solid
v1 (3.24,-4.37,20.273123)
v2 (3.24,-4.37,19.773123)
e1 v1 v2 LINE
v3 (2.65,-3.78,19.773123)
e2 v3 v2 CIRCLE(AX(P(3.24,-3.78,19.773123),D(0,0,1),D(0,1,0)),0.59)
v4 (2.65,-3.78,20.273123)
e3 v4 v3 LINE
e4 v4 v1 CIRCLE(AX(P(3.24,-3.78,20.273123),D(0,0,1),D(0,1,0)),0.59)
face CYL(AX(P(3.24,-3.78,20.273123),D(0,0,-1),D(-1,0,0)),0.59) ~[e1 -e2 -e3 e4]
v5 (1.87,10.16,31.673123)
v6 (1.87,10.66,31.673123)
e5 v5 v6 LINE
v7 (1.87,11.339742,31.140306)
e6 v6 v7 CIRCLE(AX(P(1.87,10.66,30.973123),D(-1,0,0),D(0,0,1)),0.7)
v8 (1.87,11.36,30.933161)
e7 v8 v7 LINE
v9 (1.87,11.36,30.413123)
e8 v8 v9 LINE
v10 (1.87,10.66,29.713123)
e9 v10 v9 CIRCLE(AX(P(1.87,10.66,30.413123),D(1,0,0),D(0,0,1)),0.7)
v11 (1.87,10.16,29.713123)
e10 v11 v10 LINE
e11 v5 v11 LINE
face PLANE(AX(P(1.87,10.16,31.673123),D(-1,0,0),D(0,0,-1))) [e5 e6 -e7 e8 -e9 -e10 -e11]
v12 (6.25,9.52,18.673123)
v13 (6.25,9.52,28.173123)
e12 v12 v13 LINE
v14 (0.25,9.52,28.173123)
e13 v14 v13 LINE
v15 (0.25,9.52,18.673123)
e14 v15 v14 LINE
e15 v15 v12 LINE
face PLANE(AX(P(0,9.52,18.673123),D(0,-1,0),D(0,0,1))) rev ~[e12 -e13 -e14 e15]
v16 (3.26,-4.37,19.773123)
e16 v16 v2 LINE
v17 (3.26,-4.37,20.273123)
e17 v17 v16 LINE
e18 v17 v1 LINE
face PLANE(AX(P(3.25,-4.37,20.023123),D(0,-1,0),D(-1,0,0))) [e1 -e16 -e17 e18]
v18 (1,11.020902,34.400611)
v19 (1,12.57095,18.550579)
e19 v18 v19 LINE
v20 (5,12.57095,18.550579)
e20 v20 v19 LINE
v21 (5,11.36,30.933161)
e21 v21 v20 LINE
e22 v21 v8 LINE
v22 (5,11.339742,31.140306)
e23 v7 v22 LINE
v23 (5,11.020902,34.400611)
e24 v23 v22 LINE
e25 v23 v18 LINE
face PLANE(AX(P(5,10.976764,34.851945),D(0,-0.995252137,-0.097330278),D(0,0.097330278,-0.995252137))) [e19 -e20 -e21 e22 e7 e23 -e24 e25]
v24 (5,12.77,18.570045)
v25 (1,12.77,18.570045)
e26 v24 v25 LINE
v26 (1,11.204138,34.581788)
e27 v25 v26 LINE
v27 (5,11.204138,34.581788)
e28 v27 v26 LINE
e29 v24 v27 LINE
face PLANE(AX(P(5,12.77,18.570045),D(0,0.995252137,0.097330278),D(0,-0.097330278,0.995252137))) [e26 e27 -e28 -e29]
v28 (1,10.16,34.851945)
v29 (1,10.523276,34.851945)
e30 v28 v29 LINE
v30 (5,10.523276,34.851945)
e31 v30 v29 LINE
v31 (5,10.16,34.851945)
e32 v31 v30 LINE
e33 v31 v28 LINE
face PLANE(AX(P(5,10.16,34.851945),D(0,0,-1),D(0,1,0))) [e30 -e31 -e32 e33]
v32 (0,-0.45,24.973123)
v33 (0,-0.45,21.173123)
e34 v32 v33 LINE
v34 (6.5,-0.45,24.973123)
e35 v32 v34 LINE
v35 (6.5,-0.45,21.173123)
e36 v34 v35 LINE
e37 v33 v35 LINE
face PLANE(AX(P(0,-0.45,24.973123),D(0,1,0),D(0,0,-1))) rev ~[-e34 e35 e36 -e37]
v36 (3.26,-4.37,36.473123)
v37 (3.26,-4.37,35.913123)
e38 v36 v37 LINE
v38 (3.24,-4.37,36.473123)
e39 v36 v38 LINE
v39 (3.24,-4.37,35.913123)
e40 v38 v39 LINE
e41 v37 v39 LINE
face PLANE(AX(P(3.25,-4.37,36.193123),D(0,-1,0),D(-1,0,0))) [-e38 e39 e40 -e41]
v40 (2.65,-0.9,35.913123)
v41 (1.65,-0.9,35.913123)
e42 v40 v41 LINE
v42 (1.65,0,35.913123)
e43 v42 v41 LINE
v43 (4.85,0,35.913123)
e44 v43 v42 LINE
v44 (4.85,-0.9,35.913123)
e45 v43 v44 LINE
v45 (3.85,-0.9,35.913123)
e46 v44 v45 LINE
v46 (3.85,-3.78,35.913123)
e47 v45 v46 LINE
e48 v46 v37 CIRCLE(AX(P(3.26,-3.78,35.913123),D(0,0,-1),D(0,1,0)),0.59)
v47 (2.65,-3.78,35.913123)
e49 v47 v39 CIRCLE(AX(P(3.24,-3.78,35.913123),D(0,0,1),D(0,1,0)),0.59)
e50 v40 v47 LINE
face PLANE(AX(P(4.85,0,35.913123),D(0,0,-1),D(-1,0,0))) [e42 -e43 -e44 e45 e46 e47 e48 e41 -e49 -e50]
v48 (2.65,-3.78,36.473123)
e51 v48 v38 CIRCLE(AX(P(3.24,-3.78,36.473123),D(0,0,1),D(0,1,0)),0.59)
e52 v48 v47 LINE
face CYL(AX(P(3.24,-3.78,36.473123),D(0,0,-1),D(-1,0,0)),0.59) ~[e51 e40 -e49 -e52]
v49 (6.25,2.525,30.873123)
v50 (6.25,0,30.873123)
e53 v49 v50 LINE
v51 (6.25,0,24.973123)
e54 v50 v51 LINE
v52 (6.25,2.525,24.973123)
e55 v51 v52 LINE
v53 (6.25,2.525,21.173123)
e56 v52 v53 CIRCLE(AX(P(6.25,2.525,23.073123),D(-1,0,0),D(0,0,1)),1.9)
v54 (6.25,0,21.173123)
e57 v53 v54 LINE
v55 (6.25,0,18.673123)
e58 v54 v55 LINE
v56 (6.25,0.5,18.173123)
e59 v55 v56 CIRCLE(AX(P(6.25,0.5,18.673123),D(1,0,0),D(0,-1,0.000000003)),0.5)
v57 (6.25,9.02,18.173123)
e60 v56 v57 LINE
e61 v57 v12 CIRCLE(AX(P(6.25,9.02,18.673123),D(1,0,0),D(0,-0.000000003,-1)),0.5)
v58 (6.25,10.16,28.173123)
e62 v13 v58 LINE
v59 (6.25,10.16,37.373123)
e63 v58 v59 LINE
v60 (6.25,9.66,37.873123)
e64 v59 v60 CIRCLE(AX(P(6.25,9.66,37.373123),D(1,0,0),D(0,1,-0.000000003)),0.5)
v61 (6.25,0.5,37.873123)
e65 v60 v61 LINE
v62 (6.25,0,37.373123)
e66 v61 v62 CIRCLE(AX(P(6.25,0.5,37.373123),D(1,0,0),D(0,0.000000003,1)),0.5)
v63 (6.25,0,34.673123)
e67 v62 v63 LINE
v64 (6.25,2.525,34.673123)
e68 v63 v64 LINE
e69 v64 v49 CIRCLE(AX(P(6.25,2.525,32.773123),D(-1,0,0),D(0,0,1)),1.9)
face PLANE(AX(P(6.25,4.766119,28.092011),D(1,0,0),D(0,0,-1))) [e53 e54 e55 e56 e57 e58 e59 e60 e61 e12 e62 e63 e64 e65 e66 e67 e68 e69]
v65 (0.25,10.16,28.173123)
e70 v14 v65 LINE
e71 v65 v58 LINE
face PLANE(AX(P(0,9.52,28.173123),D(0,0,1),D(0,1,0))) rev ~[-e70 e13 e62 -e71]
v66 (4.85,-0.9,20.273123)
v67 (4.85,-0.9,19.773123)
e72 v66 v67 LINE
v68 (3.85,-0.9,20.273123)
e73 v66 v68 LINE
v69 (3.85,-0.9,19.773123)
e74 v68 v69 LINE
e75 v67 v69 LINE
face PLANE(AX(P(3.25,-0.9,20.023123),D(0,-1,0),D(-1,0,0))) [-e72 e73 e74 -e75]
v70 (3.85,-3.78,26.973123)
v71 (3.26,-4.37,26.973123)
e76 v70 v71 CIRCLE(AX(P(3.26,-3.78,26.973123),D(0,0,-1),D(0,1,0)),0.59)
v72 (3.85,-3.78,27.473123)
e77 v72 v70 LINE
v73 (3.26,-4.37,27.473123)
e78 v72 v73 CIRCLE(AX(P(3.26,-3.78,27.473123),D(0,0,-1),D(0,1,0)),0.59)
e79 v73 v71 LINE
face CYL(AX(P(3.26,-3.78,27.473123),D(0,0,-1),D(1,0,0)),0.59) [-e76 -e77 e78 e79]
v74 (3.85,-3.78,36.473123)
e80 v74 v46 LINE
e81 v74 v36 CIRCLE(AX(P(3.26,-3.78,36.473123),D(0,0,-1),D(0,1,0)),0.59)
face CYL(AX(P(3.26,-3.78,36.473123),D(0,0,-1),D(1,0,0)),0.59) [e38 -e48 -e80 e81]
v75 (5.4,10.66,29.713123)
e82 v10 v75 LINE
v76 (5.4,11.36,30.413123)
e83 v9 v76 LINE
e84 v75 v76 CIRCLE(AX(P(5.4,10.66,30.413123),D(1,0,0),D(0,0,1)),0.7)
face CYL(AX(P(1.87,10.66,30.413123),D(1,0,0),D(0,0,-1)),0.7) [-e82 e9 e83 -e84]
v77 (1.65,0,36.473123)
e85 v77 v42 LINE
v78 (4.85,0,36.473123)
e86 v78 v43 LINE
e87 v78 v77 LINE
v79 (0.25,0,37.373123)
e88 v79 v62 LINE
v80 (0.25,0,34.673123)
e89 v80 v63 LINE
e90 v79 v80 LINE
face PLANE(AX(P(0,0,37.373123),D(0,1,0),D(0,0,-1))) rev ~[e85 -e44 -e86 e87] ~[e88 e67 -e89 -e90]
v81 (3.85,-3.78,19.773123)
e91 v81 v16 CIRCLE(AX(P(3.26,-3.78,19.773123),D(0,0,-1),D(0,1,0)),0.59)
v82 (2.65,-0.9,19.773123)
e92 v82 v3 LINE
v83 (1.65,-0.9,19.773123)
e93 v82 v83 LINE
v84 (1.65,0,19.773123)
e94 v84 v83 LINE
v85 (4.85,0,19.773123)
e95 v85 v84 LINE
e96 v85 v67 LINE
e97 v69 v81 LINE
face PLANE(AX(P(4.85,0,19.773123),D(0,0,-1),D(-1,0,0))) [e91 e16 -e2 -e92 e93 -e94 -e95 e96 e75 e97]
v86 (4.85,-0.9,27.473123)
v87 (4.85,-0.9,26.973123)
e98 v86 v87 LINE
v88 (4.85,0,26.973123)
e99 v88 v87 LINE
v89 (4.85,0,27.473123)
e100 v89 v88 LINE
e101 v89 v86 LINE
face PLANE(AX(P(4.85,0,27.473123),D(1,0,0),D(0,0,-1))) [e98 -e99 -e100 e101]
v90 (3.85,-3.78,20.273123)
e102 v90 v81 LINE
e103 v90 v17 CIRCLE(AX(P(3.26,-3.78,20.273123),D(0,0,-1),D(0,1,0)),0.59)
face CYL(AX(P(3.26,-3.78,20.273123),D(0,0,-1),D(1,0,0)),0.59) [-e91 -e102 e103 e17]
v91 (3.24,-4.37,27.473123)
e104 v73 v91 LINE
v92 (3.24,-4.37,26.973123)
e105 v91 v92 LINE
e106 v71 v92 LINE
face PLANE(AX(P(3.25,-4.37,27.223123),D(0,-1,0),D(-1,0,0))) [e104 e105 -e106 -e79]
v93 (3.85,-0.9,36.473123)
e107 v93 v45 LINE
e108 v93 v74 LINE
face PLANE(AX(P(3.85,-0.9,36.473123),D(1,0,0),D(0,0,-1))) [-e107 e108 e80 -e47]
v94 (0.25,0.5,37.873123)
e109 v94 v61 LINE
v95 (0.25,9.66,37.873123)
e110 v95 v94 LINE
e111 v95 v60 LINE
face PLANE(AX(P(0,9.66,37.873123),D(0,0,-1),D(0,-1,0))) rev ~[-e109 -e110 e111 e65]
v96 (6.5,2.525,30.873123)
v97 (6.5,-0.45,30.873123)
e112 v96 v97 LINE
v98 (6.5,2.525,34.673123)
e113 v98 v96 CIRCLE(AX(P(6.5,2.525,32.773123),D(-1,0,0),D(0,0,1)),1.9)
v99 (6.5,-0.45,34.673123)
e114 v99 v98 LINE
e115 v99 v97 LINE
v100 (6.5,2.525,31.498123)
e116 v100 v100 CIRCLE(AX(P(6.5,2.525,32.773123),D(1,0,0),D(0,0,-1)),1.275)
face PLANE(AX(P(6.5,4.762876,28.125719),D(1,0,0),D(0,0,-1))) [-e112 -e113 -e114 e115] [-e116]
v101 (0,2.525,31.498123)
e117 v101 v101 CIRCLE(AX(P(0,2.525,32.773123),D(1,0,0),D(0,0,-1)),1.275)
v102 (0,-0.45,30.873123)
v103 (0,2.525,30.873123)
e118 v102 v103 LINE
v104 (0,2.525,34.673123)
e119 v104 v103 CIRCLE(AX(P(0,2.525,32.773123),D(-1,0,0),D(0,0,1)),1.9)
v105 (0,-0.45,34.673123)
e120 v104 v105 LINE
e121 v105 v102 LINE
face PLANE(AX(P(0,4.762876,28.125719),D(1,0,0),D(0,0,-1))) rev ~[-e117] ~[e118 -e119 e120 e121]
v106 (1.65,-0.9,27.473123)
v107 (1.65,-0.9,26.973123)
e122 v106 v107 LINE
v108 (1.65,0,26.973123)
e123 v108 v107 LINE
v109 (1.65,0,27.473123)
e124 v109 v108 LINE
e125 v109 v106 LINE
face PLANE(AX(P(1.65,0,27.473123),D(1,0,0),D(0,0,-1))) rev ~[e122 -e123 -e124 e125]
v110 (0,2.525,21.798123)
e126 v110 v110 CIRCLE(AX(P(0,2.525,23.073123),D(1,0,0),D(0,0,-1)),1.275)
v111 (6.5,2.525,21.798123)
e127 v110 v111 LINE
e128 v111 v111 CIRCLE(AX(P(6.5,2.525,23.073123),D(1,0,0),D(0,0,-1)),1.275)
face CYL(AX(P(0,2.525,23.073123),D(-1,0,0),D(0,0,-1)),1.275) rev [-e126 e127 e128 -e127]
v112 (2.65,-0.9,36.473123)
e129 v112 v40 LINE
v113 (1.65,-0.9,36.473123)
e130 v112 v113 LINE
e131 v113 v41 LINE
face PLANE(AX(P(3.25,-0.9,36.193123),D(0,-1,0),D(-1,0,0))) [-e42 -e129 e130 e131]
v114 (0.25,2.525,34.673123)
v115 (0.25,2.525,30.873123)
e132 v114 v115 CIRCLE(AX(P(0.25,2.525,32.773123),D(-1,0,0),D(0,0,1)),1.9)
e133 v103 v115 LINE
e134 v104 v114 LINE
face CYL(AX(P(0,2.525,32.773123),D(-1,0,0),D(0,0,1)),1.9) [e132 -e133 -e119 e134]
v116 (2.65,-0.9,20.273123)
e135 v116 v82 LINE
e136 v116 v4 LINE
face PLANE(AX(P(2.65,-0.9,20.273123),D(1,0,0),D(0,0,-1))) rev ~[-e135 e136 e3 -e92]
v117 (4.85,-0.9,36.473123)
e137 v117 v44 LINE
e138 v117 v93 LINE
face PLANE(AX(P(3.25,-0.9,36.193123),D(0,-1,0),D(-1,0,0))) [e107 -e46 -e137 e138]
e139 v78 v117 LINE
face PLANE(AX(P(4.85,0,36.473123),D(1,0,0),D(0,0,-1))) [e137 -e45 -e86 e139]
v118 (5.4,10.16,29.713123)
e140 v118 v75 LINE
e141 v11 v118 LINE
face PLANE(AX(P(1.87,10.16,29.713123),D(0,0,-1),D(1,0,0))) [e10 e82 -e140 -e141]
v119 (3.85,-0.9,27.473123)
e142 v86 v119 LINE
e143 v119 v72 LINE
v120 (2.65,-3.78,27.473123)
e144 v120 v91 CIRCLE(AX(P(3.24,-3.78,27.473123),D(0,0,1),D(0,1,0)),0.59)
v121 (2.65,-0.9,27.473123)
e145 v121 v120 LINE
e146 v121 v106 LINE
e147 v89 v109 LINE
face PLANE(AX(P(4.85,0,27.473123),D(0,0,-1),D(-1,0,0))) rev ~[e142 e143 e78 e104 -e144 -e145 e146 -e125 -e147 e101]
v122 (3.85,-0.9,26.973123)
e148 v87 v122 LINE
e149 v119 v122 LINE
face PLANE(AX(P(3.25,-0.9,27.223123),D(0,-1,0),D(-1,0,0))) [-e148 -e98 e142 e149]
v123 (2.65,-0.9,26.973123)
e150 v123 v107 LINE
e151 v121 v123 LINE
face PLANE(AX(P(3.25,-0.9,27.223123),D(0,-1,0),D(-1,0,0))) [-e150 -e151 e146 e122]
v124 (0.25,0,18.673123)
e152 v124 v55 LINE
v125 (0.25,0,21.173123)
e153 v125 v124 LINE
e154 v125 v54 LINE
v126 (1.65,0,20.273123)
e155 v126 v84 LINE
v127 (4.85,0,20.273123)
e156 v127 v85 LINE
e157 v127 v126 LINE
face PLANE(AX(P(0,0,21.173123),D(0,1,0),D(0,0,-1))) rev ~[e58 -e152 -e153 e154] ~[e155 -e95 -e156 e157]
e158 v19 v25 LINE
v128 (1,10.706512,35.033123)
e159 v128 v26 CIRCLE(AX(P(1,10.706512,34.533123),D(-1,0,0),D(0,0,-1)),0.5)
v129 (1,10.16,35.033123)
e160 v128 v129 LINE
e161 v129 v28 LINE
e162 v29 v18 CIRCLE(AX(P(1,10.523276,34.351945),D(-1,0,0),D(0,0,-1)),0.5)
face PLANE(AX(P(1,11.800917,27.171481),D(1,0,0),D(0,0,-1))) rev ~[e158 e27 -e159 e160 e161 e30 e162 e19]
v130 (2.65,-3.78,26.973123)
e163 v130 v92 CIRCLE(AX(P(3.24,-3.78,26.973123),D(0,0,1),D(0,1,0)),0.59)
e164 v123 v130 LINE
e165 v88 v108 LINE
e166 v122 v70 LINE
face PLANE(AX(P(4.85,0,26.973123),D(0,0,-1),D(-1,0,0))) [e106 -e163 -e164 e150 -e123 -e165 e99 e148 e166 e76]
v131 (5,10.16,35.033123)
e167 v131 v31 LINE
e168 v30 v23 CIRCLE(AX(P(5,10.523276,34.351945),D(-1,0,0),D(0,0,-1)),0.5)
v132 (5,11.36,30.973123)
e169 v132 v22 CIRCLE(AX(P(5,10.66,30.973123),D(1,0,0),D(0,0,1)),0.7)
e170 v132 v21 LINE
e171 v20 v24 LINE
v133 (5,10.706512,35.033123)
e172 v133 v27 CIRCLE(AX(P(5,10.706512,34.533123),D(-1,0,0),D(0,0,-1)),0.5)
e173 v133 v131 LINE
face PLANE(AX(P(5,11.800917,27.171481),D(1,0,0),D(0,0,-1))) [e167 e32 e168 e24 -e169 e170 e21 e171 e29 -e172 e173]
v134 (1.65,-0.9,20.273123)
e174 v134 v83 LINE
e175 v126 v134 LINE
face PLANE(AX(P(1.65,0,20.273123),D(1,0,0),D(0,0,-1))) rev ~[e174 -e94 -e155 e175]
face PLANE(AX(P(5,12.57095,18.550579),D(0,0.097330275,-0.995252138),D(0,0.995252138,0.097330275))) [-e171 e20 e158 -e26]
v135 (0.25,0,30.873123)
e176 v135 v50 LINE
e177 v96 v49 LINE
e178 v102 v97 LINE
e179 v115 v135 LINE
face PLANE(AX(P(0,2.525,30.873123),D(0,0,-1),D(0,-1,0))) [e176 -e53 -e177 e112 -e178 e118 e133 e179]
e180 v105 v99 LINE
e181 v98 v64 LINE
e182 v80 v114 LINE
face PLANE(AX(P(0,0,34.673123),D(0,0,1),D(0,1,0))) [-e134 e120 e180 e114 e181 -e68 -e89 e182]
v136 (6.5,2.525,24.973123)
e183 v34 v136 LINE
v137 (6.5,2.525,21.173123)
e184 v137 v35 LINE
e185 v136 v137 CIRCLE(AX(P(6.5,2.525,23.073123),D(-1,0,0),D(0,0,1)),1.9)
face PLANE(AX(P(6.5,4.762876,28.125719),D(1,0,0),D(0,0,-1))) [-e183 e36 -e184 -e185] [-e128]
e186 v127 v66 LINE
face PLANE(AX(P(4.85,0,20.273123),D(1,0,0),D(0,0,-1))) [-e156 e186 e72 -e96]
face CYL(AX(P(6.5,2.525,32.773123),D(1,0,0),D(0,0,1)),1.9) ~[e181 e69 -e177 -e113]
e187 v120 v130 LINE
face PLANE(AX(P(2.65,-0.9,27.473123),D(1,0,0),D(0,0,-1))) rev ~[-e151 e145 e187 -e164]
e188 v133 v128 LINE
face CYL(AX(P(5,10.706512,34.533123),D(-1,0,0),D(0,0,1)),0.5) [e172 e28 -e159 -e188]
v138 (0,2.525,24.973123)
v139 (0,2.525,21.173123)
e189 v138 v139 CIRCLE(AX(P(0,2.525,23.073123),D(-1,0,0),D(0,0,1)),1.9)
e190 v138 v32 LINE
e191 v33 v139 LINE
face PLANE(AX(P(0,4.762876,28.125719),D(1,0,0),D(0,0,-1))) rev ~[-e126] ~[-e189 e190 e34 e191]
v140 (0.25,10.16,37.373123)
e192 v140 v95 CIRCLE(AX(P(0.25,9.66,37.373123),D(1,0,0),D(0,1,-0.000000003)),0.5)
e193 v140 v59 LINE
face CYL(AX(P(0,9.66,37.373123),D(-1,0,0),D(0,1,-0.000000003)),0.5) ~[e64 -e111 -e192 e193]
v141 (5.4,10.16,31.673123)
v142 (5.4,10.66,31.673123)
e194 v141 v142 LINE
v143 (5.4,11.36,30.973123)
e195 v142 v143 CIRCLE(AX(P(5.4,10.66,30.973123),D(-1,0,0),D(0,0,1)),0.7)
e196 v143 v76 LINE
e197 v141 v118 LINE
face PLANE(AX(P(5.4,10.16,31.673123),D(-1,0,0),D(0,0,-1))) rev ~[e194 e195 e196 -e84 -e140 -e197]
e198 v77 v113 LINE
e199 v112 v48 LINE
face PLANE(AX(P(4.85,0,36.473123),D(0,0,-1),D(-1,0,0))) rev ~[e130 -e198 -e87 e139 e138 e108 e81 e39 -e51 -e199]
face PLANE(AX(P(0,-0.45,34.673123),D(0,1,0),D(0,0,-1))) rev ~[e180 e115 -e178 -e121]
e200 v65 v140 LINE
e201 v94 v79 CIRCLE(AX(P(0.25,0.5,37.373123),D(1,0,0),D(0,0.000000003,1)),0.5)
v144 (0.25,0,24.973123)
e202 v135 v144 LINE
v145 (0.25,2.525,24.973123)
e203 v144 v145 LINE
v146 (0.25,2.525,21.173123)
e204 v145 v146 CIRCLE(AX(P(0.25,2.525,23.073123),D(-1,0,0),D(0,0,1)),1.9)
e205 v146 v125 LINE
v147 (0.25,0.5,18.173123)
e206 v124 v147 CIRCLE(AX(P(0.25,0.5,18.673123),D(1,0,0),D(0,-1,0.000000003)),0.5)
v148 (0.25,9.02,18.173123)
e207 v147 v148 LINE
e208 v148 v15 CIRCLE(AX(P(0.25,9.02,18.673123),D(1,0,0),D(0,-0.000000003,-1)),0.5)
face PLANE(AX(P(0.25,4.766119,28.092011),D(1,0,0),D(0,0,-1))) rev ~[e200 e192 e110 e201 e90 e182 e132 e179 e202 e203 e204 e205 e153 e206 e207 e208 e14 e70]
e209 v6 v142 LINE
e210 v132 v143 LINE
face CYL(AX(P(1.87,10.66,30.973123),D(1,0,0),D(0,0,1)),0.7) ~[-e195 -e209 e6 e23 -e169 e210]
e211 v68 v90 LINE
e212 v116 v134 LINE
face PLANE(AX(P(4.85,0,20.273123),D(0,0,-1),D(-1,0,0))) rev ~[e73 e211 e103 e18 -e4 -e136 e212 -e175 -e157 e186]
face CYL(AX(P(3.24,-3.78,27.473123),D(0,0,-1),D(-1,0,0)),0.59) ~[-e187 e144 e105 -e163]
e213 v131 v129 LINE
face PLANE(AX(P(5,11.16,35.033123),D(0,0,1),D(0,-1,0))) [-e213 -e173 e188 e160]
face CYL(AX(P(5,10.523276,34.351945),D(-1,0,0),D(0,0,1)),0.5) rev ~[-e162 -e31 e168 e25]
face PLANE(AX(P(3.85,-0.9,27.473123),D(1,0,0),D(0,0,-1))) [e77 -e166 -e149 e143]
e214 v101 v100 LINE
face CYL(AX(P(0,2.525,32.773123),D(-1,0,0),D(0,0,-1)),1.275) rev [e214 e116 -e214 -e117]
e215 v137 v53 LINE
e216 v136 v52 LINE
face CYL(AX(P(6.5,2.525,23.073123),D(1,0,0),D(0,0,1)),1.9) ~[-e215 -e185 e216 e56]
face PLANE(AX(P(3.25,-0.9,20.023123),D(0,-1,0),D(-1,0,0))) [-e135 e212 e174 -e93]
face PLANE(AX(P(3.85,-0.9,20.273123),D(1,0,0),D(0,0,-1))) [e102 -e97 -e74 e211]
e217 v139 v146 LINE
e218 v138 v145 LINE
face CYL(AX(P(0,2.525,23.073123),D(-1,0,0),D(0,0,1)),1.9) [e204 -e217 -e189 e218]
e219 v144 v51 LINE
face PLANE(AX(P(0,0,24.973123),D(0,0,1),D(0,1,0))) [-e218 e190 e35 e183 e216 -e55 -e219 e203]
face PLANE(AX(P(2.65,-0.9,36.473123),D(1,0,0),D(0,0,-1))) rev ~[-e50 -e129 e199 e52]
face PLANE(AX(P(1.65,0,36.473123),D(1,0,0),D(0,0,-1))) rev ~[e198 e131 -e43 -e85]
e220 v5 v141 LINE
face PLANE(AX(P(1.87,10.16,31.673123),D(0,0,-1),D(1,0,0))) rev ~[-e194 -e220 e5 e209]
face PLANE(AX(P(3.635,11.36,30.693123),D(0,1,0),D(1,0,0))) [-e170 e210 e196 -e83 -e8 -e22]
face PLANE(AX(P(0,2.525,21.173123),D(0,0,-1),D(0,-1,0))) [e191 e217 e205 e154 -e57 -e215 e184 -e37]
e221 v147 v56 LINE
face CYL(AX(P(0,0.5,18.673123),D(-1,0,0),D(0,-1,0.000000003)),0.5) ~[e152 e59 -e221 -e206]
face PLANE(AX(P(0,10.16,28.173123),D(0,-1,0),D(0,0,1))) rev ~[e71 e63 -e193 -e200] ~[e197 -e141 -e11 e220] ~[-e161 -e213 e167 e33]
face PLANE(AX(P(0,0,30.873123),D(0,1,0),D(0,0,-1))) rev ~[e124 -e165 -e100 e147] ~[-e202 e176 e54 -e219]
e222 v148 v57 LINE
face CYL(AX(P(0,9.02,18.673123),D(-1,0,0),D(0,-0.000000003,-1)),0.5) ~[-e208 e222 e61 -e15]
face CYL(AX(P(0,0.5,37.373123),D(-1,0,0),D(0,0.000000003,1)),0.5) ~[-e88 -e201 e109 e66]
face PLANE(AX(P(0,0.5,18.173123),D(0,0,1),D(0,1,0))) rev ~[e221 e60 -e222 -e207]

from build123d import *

# Parameters (mm, degrees)
SKETCH1_R           = 1.275
BOSS_EXTRUDE1_DEPTH = 6.5
SKETCH2_W           = 3.53
SKETCH2_H           = 1.96
BOSS_EXTRUDE2_DEPTH = 1.2
FILLET1_R           = 0.7
SKETCH3_W           = 3.2
SKETCH3_H           = 0.56
SKETCH3_H_2         = 0.5
BOSS_EXTRUDE3_DEPTH = 0.9
SKETCH4_W           = 1.2
SKETCH4_H           = 0.56
SKETCH4_H_2         = 0.5
BOSS_EXTRUDE4_DEPTH = 3.47
FILLET2_R           = 0.59
EXTRUDE_START       = -1.5
EXTRUDE_1_DEPTH     = 4
FILLET_1_R          = 0.5
EXTRUDE1_DEPTH      = 0.25
EXTRUDE2_START      = -6.5
EXTRUDE2_DEPTH      = 0.25


with BuildPart() as part:
    # Sketch1 → Boss-Extrude1 (new body)
    with BuildSketch(Plane(origin=(0, 0, 0), x_dir=(0, 0, -1), z_dir=(1, 0, 0))):
        with BuildLine():
            Line((-37.373122581, 0), (-34.673122581, 0))
            Line((-34.673122581, 0), (-34.673122581, -0.45))
            Line((-34.673122581, -0.45), (-30.873122581, -0.45))
            Line((-30.873122581, -0.45), (-30.873122581, 0))
            Line((-30.873122581, 0), (-24.973122581, 0))
            Line((-24.973122581, 0), (-24.973122581, -0.45))
            Line((-24.973122581, -0.45), (-21.173122581, -0.45))
            Line((-21.173122581, -0.45), (-21.173122581, 0))
            Line((-21.173122581, 0), (-18.673122581, 0))
            ThreePointArc((-18.673122581, 0), (-18.31956919, 0.146446609), (-18.173122581, 0.5))
            Line((-18.173122581, 0.5), (-18.173122581, 9.02))
            ThreePointArc((-18.173122581, 9.02), (-18.31956919, 9.373553391), (-18.673122581, 9.52))
            Line((-18.673122581, 9.52), (-28.173122581, 9.52))
            Line((-28.173122581, 9.52), (-28.173122581, 10.16))
            Line((-28.173122581, 10.16), (-37.373122581, 10.16))
            ThreePointArc((-37.373122581, 10.16), (-37.726675972, 10.013553391), (-37.873122581, 9.66))
            Line((-37.873122581, 9.66), (-37.873122581, 0.5))
            ThreePointArc((-37.873122581, 0.5), (-37.726675972, 0.146446609), (-37.373122581, 0))
        make_face()
        with Locations((-32.773122581, 2.525)):
            Circle(SKETCH1_R, mode=Mode.SUBTRACT)
        with Locations((-23.073122581, 2.525)):
            Circle(SKETCH1_R, mode=Mode.SUBTRACT)
    extrude(amount=BOSS_EXTRUDE1_DEPTH)

    # Sketch2 → Boss-Extrude2 (add)
    with BuildSketch(Plane(origin=(0, 10.16, 0), x_dir=(1, 0, 0), z_dir=(0, 1, 0))):
        with Locations((3.635, -30.693122581)):
            Rectangle(SKETCH2_W, SKETCH2_H)
    extrude(amount=BOSS_EXTRUDE2_DEPTH)

    # Fillet1
    fillet1_edges = [part.edges().sort_by_distance(p)[0] for p in [
        (3.635, 11.36, 31.673122581),
        (3.635, 11.36, 29.713122581),
    ]]
    fillet(fillet1_edges, radius=FILLET1_R)

    # Sketch3 → Boss-Extrude3 (add)
    with BuildSketch(Plane(origin=(0, 0, 0), x_dir=(-1, 0, 0), z_dir=(0, -1, 0))):
        with Locations((-3.25, -36.193122581)):
            Rectangle(SKETCH3_W, SKETCH3_H)
        with Locations((-3.25, -27.223122581)):
            Rectangle(SKETCH3_W, SKETCH3_H_2)
        with Locations((-3.25, -20.023122581)):
            Rectangle(SKETCH3_W, SKETCH3_H_2)
    extrude(amount=BOSS_EXTRUDE3_DEPTH)

    # Sketch4 → Boss-Extrude4 (add)
    with BuildSketch(Plane(origin=(0, -0.9, 0), x_dir=(-1, 0, 0), z_dir=(0, -1, 0))):
        with Locations((-3.25, -36.193122581)):
            Rectangle(SKETCH4_W, SKETCH4_H)
        with Locations((-3.25, -27.223122581)):
            Rectangle(SKETCH4_W, SKETCH4_H_2)
        with Locations((-3.25, -20.023122581)):
            Rectangle(SKETCH4_W, SKETCH4_H_2)
    extrude(amount=BOSS_EXTRUDE4_DEPTH)

    # Fillet2
    fillet2_edges = [part.edges().sort_by_distance(p)[0] for p in [
        (2.65, -4.37, 36.193122581),
        (3.85, -4.37, 36.193122581),
        (2.65, -4.37, 27.223122581),
        (3.85, -4.37, 27.223122581),
        (3.85, -4.37, 20.023122581),
        (2.65, -4.37, 20.023122581),
    ]]
    fillet(fillet2_edges, radius=FILLET2_R)

    # Эскиз1 → Бобышка-Вытянуть1 (add)
    with BuildSketch(Plane(origin=(6.5, 0, 0), x_dir=(0, 0, -1), z_dir=(1, 0, 0)).offset(EXTRUDE_START)):
        Polygon((-34.851945428, 10.16), (-34.851945428, 10.976764044), (-18.550578779, 12.570949573), (-18.570044834, 12.77), (-35.033122581, 11.16), (-35.033122581, 10.16), align=None)
    extrude(amount=-EXTRUDE_1_DEPTH)

    # Скругление1
    fillet_1_edges = [part.edges().sort_by_distance(p)[0] for p in [
        (3, 11.16, 35.033122581),
        (3, 10.976764044, 34.851945428),
    ]]
    fillet(fillet_1_edges, radius=FILLET_1_R)

    # Sketch6 → Extrude1 (cut)
    with BuildSketch(Plane(origin=(6.5, 0, 0), x_dir=(0, 0, -1), z_dir=(1, 0, 0))):
        with BuildLine():
            Line((-34.673122581, 0), (-34.673122581, 2.525))
            ThreePointArc((-34.673122581, 2.525), (-32.773122581, 4.425), (-30.873122581, 2.525))
            Line((-30.873122581, 2.525), (-30.873122581, 0))
            Line((-30.873122581, 0), (-24.973122581, 0))
            Line((-24.973122581, 0), (-24.973122581, 2.525))
            ThreePointArc((-24.973122581, 2.525), (-23.073122581, 4.425), (-21.173122581, 2.525))
            Line((-21.173122581, 2.525), (-21.173122581, 0))
            Line((-21.173122581, 0), (-18.673122581, 0))
            ThreePointArc((-18.673122581, 0), (-18.31956919, 0.146446609), (-18.173122581, 0.5))
            Line((-18.173122581, 0.5), (-18.173122581, 9.02))
            ThreePointArc((-18.173122581, 9.02), (-18.31956919, 9.373553391), (-18.673122581, 9.52))
            Line((-18.673122581, 9.52), (-28.173122581, 9.52))
            Line((-28.173122581, 9.52), (-28.173122581, 10.16))
            Line((-28.173122581, 10.16), (-37.373122581, 10.16))
            ThreePointArc((-37.373122581, 10.16), (-37.726675972, 10.013553391), (-37.873122581, 9.66))
            Line((-37.873122581, 9.66), (-37.873122581, 0.5))
            ThreePointArc((-37.873122581, 0.5), (-37.726675972, 0.146446609), (-37.373122581, 0))
            Line((-37.373122581, 0), (-34.673122581, 0))
        make_face()
    extrude(amount=-EXTRUDE1_DEPTH, mode=Mode.SUBTRACT)

    # Sketch → Extrude2 (cut)
    with BuildSketch(Plane(origin=(6.5, 0, 0), x_dir=(0, 0, -1), z_dir=(1, 0, 0)).offset(EXTRUDE2_START)):
        with BuildLine():
            Line((-34.673122581, 0), (-34.673122581, 2.525))
            ThreePointArc((-34.673122581, 2.525), (-32.773122581, 4.425), (-30.873122581, 2.525))
            Line((-30.873122581, 2.525), (-30.873122581, 0))
            Line((-30.873122581, 0), (-24.973122581, 0))
            Line((-24.973122581, 0), (-24.973122581, 2.525))
            ThreePointArc((-24.973122581, 2.525), (-23.073122581, 4.425), (-21.173122581, 2.525))
            Line((-21.173122581, 2.525), (-21.173122581, 0))
            Line((-21.173122581, 0), (-18.673122581, 0))
            ThreePointArc((-18.673122581, 0), (-18.31956919, 0.146446609), (-18.173122581, 0.5))
            Line((-18.173122581, 0.5), (-18.173122581, 9.02))
            ThreePointArc((-18.173122581, 9.02), (-18.31956919, 9.373553391), (-18.673122581, 9.52))
            Line((-18.673122581, 9.52), (-28.173122581, 9.52))
            Line((-28.173122581, 9.52), (-28.173122581, 10.16))
            Line((-28.173122581, 10.16), (-37.373122581, 10.16))
            ThreePointArc((-37.373122581, 10.16), (-37.726675972, 10.013553391), (-37.873122581, 9.66))
            Line((-37.873122581, 9.66), (-37.873122581, 0.5))
            ThreePointArc((-37.873122581, 0.5), (-37.726675972, 0.146446609), (-37.373122581, 0))
            Line((-37.373122581, 0), (-34.673122581, 0))
        make_face()
    extrude(amount=EXTRUDE2_DEPTH, mode=Mode.SUBTRACT)


solid = part.part
